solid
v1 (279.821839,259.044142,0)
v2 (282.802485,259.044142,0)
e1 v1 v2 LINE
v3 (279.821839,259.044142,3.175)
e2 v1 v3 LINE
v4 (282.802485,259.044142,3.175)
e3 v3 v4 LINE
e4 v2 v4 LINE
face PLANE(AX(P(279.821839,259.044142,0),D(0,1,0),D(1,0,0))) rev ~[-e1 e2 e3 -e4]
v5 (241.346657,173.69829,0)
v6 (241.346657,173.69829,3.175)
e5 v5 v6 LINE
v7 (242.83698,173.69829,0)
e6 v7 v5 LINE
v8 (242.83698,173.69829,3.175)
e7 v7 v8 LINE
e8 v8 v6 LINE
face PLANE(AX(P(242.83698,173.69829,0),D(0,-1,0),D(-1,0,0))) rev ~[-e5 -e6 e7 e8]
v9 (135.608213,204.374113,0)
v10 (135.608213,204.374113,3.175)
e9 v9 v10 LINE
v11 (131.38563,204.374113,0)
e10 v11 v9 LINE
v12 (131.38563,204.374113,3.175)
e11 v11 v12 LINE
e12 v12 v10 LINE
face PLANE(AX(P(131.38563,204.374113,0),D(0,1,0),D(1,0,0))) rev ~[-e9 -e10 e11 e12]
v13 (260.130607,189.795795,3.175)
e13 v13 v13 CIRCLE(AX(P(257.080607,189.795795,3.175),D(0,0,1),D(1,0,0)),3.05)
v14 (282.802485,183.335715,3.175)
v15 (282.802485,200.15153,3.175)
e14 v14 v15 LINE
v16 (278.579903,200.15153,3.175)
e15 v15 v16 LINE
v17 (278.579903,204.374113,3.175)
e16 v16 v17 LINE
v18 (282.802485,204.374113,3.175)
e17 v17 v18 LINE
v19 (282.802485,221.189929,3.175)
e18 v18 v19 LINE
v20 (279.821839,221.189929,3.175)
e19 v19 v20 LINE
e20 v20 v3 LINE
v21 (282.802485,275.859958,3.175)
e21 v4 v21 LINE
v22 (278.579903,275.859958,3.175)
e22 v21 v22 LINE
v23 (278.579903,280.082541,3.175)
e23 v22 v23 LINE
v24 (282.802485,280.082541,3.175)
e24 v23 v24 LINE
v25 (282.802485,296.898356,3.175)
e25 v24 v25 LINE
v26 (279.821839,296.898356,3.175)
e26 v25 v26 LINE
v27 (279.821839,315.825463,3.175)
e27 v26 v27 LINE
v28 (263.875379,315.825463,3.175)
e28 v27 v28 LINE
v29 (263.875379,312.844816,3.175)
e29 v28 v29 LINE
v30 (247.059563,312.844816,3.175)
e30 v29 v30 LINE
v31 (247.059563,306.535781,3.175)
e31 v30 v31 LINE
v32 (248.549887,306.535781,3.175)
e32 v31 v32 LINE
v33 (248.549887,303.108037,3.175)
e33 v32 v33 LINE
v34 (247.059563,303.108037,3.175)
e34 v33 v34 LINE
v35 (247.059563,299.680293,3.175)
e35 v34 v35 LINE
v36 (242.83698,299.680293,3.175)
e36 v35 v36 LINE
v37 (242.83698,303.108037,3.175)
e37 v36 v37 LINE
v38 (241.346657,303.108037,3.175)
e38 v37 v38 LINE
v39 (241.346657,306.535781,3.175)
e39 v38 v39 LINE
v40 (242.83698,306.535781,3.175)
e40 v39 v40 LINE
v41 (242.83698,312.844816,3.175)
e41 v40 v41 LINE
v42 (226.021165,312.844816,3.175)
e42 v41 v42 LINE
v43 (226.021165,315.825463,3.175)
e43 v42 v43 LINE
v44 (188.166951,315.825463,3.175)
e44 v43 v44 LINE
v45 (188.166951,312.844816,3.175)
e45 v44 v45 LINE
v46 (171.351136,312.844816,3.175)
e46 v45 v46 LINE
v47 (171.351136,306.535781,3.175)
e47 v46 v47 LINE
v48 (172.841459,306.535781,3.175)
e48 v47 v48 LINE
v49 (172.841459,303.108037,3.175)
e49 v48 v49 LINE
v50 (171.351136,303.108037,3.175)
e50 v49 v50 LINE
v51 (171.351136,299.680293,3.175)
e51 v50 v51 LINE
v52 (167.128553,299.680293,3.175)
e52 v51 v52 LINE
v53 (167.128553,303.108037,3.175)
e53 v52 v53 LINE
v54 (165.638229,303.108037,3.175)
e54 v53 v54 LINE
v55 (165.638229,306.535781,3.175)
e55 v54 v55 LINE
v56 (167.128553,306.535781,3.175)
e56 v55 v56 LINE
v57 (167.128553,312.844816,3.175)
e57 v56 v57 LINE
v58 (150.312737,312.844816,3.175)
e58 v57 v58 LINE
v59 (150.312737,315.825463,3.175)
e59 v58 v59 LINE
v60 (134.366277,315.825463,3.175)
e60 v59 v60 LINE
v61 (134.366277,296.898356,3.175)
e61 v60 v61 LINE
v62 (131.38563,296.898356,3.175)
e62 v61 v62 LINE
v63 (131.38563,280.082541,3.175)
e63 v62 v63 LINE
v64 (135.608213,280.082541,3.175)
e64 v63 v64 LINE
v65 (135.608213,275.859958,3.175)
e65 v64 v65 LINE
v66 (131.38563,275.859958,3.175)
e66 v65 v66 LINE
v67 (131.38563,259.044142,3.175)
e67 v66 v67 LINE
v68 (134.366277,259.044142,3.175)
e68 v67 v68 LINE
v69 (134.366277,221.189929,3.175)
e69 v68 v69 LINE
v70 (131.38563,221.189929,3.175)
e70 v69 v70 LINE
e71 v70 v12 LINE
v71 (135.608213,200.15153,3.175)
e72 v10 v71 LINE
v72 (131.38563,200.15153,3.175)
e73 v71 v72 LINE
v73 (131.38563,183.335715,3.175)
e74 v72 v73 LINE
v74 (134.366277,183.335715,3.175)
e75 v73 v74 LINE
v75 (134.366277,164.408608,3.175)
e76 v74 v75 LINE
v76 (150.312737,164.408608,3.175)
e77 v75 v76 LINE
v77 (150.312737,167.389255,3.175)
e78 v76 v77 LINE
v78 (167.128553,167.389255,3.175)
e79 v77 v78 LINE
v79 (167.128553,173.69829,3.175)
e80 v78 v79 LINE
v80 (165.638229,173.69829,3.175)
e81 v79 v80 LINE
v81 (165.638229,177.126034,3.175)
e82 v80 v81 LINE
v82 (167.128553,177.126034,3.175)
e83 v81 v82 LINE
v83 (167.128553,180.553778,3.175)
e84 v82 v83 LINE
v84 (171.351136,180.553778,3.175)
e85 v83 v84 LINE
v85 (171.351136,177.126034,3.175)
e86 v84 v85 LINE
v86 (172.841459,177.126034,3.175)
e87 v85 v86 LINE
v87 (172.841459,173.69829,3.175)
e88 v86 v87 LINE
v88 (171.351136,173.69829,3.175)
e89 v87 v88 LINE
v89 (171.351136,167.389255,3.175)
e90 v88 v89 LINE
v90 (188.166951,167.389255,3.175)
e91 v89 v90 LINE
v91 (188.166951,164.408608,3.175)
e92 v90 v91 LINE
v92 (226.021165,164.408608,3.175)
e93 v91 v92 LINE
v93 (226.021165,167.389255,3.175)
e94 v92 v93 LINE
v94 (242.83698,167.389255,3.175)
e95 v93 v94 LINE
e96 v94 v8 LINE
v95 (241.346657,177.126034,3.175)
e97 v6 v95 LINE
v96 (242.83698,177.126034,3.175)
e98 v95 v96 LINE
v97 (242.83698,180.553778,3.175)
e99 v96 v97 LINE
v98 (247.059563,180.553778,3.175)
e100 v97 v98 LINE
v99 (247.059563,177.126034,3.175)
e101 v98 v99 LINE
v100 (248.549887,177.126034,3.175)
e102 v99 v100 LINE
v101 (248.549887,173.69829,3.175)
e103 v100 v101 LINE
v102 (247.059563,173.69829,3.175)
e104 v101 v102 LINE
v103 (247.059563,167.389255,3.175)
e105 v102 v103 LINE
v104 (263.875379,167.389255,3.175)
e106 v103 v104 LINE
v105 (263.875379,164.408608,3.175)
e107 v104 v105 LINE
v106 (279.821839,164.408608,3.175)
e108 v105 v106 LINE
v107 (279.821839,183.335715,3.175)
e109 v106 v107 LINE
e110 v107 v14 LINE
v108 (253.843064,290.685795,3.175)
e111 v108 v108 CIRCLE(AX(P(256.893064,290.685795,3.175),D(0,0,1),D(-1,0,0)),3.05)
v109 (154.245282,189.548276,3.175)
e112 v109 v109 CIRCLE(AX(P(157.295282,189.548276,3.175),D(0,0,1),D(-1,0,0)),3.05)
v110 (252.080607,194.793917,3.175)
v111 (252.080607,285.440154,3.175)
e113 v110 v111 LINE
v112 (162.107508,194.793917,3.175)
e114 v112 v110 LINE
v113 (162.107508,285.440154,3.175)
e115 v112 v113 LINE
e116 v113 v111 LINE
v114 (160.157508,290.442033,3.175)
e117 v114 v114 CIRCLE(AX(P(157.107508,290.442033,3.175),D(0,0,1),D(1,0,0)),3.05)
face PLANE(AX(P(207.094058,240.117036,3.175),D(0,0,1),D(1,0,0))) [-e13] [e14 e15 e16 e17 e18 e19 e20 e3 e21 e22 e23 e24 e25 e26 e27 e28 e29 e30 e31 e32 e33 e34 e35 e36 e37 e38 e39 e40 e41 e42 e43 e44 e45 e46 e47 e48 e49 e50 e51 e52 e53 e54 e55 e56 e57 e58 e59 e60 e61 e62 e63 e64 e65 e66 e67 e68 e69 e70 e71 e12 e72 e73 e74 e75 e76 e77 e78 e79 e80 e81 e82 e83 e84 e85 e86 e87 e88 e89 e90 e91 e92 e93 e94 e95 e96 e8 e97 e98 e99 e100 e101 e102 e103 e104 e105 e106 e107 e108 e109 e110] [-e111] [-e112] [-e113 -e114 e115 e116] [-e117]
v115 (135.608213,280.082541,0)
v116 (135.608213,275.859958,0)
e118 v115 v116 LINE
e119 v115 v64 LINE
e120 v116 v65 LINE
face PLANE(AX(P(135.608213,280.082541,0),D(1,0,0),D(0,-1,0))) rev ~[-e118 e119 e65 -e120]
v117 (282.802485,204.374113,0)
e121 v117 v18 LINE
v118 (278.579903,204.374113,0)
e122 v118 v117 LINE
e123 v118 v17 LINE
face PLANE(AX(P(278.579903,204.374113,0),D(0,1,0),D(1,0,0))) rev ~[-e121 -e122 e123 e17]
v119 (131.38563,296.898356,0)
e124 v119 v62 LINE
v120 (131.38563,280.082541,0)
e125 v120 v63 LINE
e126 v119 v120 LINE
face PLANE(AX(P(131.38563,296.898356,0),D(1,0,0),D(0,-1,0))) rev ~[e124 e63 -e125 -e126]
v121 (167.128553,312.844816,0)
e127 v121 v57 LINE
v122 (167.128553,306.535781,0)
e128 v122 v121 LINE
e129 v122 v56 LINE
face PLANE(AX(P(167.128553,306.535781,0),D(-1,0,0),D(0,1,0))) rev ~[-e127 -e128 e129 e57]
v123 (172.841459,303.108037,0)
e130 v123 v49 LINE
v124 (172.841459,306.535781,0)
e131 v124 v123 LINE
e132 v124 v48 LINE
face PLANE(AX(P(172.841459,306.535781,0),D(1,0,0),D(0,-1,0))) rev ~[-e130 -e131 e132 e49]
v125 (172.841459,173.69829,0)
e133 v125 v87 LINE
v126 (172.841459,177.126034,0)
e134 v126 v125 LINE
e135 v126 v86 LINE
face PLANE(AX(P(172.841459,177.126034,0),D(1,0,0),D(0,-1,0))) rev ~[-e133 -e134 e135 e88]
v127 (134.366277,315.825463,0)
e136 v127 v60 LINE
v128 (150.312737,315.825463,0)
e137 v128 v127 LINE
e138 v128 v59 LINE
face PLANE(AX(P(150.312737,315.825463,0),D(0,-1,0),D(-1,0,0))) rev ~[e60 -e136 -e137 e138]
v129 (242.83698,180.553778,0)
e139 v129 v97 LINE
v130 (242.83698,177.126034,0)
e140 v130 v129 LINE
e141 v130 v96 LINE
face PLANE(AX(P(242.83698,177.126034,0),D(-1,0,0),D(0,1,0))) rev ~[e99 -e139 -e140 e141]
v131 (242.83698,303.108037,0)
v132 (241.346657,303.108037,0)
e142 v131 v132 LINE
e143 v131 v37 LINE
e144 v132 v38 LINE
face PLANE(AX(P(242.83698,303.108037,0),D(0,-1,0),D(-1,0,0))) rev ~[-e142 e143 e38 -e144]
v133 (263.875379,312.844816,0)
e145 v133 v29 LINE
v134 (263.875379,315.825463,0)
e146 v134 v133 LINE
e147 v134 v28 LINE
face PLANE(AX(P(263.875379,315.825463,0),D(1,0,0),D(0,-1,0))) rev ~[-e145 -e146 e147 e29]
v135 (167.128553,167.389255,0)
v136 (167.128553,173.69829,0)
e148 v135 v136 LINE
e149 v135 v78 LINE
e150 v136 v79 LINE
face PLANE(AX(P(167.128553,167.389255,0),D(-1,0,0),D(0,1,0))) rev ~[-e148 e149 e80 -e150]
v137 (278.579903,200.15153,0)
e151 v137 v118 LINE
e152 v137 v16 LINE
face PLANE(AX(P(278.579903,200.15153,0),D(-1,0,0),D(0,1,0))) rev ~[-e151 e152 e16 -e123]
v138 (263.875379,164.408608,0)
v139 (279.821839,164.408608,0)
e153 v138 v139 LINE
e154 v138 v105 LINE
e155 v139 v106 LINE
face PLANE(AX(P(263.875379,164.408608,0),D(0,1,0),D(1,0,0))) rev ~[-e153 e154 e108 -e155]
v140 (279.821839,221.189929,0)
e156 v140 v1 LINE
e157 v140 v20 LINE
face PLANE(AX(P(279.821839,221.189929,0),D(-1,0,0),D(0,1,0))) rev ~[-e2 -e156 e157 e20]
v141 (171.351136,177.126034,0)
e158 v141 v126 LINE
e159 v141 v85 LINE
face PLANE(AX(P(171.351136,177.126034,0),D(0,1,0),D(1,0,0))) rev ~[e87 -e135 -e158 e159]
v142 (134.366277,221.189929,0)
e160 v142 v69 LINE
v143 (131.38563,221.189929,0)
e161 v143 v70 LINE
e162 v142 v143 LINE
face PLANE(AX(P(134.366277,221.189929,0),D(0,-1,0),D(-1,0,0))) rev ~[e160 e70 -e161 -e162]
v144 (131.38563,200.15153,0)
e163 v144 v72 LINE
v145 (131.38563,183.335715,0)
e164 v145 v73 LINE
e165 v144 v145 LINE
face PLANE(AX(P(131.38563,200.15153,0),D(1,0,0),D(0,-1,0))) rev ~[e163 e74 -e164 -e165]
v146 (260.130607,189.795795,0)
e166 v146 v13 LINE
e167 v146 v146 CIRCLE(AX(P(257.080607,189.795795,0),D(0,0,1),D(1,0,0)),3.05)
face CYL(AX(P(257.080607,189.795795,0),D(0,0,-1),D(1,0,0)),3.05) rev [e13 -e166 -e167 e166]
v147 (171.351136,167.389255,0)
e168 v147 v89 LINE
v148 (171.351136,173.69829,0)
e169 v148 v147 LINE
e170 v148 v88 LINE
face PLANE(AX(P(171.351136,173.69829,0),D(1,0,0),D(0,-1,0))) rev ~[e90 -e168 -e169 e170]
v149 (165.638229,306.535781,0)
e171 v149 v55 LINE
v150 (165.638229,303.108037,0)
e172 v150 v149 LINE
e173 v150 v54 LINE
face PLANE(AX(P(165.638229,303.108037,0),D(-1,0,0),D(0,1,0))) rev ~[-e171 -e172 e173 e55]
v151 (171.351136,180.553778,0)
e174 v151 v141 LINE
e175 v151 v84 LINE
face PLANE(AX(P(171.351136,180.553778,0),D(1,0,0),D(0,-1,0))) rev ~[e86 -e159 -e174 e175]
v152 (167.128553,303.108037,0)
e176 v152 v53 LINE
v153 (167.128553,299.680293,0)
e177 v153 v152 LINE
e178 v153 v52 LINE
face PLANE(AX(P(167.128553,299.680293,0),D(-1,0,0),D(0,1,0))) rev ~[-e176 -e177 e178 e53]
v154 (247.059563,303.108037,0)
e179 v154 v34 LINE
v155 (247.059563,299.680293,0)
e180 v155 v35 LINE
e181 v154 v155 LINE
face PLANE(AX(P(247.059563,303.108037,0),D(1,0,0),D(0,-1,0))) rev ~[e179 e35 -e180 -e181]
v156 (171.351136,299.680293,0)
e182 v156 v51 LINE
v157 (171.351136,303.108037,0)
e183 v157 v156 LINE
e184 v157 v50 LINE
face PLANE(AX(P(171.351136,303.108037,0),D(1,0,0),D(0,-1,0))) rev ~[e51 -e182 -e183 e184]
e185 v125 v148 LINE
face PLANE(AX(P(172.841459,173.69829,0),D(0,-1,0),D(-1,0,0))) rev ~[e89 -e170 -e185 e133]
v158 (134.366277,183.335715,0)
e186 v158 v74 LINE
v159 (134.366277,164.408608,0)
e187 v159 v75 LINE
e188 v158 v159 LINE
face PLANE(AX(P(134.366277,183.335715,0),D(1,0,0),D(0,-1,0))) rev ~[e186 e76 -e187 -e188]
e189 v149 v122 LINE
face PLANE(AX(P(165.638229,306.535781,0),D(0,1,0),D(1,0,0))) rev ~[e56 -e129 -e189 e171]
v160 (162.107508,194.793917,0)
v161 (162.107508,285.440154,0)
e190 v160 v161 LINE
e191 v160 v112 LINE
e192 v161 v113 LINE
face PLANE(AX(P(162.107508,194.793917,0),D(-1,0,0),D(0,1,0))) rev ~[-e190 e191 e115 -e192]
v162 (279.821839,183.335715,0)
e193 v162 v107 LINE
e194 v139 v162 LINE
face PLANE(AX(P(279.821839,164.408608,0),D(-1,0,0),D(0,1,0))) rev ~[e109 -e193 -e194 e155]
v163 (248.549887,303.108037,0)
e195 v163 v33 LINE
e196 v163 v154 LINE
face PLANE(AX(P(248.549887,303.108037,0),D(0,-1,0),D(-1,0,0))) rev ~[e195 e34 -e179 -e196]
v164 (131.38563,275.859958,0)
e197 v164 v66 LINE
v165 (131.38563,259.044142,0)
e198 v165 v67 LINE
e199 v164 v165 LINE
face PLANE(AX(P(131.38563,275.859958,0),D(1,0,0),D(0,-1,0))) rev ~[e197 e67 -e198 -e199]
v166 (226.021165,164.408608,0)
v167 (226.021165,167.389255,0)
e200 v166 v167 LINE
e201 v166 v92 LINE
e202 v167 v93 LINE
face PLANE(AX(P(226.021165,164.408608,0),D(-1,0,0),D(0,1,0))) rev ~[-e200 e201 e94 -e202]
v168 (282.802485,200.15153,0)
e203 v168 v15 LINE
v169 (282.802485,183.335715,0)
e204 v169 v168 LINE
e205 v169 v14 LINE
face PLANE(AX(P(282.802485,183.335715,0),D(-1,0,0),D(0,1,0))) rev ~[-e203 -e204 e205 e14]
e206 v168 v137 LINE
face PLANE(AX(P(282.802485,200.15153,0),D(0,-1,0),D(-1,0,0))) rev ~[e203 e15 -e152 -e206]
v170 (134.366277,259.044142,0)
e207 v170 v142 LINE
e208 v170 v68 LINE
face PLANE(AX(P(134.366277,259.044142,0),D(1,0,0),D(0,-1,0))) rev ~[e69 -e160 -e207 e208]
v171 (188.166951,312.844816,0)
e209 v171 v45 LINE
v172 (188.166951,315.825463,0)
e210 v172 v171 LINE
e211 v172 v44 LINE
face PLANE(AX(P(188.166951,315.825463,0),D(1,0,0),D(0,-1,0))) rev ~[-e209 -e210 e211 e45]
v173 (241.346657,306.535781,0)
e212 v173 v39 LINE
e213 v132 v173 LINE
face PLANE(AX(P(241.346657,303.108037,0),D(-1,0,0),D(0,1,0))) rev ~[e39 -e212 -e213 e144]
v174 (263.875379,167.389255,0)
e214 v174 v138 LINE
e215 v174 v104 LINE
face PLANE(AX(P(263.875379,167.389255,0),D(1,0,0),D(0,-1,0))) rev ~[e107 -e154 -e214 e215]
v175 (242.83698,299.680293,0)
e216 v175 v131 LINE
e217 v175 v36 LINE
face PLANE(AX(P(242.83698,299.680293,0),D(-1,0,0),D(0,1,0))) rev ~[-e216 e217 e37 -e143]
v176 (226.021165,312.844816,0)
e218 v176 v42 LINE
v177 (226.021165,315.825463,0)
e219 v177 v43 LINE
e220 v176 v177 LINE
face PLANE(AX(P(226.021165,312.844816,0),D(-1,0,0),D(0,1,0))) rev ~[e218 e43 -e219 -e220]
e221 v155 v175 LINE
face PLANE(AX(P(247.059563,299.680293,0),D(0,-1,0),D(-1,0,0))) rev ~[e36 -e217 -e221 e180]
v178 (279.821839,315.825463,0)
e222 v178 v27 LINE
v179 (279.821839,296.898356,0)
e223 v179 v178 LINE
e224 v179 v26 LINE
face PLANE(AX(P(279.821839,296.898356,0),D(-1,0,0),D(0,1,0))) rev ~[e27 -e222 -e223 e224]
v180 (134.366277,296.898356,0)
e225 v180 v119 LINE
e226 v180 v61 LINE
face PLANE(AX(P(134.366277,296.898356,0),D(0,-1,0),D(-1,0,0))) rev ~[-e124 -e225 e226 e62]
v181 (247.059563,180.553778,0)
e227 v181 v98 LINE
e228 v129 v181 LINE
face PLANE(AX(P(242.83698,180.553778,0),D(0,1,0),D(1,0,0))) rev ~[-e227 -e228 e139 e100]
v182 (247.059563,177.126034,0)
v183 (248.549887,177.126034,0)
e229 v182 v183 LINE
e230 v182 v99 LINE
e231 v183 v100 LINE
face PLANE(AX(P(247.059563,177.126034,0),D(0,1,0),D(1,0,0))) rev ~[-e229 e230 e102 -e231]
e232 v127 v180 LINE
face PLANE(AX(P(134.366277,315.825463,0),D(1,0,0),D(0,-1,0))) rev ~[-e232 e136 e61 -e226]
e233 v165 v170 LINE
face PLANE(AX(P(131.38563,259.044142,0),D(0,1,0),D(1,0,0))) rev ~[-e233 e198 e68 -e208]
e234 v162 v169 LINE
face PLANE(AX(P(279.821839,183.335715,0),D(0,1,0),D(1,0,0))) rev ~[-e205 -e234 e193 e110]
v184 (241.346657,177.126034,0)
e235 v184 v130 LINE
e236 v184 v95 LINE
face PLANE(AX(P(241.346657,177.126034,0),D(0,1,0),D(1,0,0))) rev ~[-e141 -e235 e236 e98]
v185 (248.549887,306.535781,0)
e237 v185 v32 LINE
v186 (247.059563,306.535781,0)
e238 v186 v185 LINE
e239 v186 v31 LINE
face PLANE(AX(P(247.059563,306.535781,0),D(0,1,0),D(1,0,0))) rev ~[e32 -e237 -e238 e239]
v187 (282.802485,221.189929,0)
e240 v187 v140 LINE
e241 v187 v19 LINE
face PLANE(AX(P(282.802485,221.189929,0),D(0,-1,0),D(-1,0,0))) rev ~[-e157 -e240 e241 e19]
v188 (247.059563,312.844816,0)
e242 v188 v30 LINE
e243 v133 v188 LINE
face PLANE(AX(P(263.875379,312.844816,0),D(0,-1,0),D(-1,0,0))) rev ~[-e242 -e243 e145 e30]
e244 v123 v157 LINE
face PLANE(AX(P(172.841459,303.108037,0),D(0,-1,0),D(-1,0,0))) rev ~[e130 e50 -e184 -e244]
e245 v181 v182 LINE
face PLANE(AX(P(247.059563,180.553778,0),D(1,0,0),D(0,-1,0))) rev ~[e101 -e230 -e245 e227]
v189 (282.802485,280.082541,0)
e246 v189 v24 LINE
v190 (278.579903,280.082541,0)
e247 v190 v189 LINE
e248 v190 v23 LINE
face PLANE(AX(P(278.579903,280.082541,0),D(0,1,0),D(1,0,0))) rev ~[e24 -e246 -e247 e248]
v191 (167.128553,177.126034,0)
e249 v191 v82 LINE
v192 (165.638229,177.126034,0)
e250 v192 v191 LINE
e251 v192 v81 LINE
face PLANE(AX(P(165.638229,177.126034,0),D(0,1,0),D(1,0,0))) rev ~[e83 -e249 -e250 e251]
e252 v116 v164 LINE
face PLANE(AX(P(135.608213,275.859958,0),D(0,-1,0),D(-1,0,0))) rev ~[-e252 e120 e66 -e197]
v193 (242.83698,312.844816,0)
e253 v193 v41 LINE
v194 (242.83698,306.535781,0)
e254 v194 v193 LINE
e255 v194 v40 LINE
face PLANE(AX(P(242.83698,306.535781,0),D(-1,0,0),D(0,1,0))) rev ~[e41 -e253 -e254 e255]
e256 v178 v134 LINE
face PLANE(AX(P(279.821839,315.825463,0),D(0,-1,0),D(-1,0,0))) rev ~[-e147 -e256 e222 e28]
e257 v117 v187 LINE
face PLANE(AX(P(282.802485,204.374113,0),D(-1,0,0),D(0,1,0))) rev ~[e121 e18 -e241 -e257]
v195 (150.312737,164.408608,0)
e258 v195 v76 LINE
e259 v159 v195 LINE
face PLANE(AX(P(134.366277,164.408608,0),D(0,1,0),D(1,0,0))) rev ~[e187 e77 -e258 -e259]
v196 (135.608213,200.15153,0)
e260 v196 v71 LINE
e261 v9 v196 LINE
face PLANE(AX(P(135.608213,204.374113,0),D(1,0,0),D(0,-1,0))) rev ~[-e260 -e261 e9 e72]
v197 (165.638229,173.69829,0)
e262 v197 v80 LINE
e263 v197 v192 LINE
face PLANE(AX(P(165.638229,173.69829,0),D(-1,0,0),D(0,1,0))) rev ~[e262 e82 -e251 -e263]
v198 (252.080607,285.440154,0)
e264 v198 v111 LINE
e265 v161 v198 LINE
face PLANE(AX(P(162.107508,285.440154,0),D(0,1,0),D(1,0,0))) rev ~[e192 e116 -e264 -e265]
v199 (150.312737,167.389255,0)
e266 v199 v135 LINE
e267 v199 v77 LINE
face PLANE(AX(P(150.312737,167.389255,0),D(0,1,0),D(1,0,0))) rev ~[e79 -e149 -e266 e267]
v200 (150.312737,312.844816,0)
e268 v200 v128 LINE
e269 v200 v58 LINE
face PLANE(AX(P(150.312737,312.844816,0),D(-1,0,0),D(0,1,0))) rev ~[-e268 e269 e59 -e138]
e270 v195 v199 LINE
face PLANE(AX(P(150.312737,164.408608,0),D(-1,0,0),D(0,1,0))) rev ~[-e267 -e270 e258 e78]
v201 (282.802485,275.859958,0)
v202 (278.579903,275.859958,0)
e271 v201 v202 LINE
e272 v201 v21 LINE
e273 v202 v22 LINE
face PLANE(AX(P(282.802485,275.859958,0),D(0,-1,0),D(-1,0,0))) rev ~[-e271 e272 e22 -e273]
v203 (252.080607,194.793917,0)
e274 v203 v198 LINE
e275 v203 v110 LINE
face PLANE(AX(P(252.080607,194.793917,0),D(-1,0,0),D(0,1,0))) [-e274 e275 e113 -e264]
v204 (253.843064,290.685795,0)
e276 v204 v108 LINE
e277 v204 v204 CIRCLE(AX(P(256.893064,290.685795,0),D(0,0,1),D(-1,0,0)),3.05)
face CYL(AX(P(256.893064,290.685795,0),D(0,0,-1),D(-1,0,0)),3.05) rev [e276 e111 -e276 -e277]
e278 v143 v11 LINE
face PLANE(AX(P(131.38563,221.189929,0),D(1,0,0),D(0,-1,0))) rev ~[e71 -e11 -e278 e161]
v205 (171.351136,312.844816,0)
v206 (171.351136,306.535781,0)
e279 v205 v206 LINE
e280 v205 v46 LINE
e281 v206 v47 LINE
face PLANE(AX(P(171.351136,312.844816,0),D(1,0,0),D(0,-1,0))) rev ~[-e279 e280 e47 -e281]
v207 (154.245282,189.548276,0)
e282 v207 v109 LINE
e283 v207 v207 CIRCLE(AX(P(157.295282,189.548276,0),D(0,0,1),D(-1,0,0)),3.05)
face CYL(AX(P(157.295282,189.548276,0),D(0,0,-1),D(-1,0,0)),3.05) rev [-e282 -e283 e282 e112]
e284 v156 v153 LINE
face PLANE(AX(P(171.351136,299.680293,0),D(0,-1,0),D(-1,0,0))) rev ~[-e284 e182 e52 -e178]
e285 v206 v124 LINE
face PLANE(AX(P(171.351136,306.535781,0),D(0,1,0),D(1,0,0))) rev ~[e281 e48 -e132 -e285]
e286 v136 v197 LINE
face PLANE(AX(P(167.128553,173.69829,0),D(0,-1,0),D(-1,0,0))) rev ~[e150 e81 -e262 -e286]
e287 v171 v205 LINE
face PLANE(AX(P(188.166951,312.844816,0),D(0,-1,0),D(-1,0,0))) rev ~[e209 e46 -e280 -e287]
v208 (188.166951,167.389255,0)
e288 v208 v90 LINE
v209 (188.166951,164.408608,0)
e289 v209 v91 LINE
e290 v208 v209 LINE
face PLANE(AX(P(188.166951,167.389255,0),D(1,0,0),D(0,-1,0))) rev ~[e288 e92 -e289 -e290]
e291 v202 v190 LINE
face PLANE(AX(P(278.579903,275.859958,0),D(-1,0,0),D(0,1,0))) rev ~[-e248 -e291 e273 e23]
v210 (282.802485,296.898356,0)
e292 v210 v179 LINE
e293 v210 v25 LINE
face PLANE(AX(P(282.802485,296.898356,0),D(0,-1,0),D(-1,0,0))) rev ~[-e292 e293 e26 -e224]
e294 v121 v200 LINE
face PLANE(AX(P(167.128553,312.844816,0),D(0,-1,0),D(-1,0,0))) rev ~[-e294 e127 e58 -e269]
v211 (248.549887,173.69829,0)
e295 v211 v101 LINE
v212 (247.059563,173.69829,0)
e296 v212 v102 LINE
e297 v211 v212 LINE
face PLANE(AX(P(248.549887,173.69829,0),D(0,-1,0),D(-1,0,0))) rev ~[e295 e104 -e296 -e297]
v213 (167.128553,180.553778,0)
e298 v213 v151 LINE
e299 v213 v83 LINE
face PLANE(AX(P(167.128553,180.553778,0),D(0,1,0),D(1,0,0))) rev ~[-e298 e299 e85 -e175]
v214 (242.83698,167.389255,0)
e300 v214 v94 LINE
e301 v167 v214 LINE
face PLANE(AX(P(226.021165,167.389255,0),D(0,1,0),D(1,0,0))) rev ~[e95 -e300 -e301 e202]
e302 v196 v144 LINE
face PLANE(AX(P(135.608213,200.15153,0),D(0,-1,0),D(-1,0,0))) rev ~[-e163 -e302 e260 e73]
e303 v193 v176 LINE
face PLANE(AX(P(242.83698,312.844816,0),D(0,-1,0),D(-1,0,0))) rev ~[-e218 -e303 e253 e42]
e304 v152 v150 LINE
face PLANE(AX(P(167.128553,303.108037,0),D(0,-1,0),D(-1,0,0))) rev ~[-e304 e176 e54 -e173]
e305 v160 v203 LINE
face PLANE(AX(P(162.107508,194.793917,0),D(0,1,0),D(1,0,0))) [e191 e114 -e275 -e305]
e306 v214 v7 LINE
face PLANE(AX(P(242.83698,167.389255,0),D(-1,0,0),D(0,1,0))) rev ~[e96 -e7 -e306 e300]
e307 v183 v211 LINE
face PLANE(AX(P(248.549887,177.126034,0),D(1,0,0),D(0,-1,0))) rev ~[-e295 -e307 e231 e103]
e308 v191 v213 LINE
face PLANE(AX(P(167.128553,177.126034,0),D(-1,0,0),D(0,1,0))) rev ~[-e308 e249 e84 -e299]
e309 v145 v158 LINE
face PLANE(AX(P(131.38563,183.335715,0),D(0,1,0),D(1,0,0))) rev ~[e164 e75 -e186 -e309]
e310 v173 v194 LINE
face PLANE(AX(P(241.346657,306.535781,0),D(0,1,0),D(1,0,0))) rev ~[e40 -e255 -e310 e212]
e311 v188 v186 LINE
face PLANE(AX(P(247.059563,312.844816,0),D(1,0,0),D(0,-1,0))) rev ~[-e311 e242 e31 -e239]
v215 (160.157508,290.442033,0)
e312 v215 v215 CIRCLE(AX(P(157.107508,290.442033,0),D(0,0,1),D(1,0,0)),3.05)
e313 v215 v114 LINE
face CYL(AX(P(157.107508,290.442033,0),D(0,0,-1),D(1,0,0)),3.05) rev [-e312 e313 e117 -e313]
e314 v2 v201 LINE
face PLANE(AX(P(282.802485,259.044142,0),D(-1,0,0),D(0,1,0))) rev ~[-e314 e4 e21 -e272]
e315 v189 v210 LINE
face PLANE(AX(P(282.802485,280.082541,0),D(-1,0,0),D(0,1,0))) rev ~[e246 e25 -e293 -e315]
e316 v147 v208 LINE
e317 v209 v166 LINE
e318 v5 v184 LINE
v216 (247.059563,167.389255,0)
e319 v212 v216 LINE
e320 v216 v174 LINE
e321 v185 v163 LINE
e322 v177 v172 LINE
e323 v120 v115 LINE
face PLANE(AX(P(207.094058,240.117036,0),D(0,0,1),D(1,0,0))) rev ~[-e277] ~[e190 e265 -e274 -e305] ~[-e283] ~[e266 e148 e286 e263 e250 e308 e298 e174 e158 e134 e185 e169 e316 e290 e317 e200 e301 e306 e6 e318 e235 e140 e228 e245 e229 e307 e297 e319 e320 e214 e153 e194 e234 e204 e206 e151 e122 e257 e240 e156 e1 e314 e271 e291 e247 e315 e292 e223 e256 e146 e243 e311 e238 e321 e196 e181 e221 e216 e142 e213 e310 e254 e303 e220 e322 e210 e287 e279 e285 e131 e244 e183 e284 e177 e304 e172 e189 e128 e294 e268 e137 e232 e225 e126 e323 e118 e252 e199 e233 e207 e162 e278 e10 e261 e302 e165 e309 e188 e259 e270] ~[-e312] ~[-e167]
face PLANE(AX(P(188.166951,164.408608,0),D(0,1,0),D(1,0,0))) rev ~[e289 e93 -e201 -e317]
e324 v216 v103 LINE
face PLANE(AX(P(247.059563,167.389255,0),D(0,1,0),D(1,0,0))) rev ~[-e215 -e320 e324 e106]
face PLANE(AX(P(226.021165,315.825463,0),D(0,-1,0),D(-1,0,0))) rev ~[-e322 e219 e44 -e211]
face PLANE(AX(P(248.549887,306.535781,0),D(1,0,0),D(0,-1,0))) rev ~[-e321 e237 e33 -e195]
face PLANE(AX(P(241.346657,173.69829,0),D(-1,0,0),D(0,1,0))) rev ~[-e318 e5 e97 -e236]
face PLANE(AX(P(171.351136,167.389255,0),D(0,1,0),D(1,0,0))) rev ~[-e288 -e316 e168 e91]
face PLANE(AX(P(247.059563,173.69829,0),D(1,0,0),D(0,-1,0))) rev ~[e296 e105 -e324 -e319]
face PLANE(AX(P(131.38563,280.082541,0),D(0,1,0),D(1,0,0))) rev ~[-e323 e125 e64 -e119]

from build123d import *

# Parameters (mm, degrees)
SKETCH1_R           = 3.05
SKETCH1_W           = 89.973098966
SKETCH1_H           = 90.646237781
BOSS_EXTRUDE1_DEPTH = 3.175


with BuildPart() as part:
    # Sketch1 → Boss-Extrude1 (new body)
    with BuildSketch(Plane.XY):
        Polygon((134.366277122, 315.825463089), (134.366277122, 296.898356199), (131.385630367, 296.898356199), (131.385630367, 280.082540759), (135.608213269, 280.082540759), (135.608213269, 277.971249308), (135.608213269, 275.859957857), (131.385630367, 275.859957857), (131.385630367, 259.044142417), (134.366277122, 259.044142417), (134.366277122, 221.189928636), (131.385630367, 221.189928636), (131.385630367, 204.374113196), (135.608213269, 204.374113196), (135.608213269, 202.262821745), (135.608213269, 200.151530294), (131.385630367, 200.151530294), (131.385630367, 183.335714854), (134.366277122, 183.335714854), (134.366277122, 164.408607964), (150.312737258, 164.408607964), (150.312737258, 167.389254718), (167.128552698, 167.389254718), (167.128552698, 173.698290348), (165.63822932, 173.698290348), (165.63822932, 177.126034116), (167.128552698, 177.126034116), (167.128552698, 180.553777884), (171.3511356, 180.553777884), (171.3511356, 177.126034116), (172.841458977, 177.126034116), (172.841458977, 173.698290348), (171.3511356, 173.698290348), (171.3511356, 167.389254718), (188.166951039, 167.389254718), (188.166951039, 164.408607964), (226.021164821, 164.408607964), (226.021164821, 167.389254718), (242.83698026, 167.389254718), (242.83698026, 173.698290348), (241.346656883, 173.698290348), (241.346656883, 177.126034116), (242.83698026, 177.126034116), (242.83698026, 180.553777884), (247.059563162, 180.553777884), (247.059563162, 177.126034116), (248.54988654, 177.126034116), (248.54988654, 173.698290348), (247.059563162, 173.698290348), (247.059563162, 167.389254718), (263.875378602, 167.389254718), (263.875378602, 164.408607964), (279.821838738, 164.408607964), (279.821838738, 183.335714854), (282.802485493, 183.335714854), (282.802485493, 200.151530294), (278.579902591, 200.151530294), (278.579902591, 202.262821745), (278.579902591, 204.374113196), (282.802485493, 204.374113196), (282.802485493, 221.189928636), (279.821838738, 221.189928636), (279.821838738, 259.044142417), (282.802485493, 259.044142417), (282.802485493, 275.859957857), (278.579902591, 275.859957857), (278.579902591, 277.971249308), (278.579902591, 280.082540759), (282.802485493, 280.082540759), (282.802485493, 296.898356199), (279.821838738, 296.898356199), (279.821838738, 315.825463089), (263.875378602, 315.825463089), (263.875378602, 312.844816335), (247.059563162, 312.844816335), (247.059563162, 306.535780705), (248.54988654, 306.535780705), (248.54988654, 303.108036937), (247.059563162, 303.108036937), (247.059563162, 299.680293169), (242.83698026, 299.680293169), (242.83698026, 303.108036937), (241.346656883, 303.108036937), (241.346656883, 306.535780705), (242.83698026, 306.535780705), (242.83698026, 312.844816335), (226.021164821, 312.844816335), (226.021164821, 315.825463089), (188.166951039, 315.825463089), (188.166951039, 312.844816335), (171.3511356, 312.844816335), (171.3511356, 306.535780705), (172.841458977, 306.535780705), (172.841458977, 303.108036937), (171.3511356, 303.108036937), (171.3511356, 299.680293169), (167.128552698, 299.680293169), (167.128552698, 303.108036937), (165.63822932, 303.108036937), (165.63822932, 306.535780705), (167.128552698, 306.535780705), (167.128552698, 312.844816335), (150.312737258, 312.844816335), (150.312737258, 315.825463089), align=None)
        with Locations((157.107508447, 290.442033214)):
            Circle(SKETCH1_R, mode=Mode.SUBTRACT)
        with Locations(Location((256.893063872, 290.685795432, 0), (0, 0, 180))):
            Circle(SKETCH1_R, mode=Mode.SUBTRACT)
        with Locations((257.080607413, 189.795795432)):
            Circle(SKETCH1_R, mode=Mode.SUBTRACT)
        with Locations(Location((157.295282053, 189.548275621, 0), (0, 0, 180))):
            Circle(SKETCH1_R, mode=Mode.SUBTRACT)
        with Locations((207.09405793, 240.117035527)):
            Rectangle(SKETCH1_W, SKETCH1_H, mode=Mode.SUBTRACT)
    extrude(amount=BOSS_EXTRUDE1_DEPTH)


solid = part.part
